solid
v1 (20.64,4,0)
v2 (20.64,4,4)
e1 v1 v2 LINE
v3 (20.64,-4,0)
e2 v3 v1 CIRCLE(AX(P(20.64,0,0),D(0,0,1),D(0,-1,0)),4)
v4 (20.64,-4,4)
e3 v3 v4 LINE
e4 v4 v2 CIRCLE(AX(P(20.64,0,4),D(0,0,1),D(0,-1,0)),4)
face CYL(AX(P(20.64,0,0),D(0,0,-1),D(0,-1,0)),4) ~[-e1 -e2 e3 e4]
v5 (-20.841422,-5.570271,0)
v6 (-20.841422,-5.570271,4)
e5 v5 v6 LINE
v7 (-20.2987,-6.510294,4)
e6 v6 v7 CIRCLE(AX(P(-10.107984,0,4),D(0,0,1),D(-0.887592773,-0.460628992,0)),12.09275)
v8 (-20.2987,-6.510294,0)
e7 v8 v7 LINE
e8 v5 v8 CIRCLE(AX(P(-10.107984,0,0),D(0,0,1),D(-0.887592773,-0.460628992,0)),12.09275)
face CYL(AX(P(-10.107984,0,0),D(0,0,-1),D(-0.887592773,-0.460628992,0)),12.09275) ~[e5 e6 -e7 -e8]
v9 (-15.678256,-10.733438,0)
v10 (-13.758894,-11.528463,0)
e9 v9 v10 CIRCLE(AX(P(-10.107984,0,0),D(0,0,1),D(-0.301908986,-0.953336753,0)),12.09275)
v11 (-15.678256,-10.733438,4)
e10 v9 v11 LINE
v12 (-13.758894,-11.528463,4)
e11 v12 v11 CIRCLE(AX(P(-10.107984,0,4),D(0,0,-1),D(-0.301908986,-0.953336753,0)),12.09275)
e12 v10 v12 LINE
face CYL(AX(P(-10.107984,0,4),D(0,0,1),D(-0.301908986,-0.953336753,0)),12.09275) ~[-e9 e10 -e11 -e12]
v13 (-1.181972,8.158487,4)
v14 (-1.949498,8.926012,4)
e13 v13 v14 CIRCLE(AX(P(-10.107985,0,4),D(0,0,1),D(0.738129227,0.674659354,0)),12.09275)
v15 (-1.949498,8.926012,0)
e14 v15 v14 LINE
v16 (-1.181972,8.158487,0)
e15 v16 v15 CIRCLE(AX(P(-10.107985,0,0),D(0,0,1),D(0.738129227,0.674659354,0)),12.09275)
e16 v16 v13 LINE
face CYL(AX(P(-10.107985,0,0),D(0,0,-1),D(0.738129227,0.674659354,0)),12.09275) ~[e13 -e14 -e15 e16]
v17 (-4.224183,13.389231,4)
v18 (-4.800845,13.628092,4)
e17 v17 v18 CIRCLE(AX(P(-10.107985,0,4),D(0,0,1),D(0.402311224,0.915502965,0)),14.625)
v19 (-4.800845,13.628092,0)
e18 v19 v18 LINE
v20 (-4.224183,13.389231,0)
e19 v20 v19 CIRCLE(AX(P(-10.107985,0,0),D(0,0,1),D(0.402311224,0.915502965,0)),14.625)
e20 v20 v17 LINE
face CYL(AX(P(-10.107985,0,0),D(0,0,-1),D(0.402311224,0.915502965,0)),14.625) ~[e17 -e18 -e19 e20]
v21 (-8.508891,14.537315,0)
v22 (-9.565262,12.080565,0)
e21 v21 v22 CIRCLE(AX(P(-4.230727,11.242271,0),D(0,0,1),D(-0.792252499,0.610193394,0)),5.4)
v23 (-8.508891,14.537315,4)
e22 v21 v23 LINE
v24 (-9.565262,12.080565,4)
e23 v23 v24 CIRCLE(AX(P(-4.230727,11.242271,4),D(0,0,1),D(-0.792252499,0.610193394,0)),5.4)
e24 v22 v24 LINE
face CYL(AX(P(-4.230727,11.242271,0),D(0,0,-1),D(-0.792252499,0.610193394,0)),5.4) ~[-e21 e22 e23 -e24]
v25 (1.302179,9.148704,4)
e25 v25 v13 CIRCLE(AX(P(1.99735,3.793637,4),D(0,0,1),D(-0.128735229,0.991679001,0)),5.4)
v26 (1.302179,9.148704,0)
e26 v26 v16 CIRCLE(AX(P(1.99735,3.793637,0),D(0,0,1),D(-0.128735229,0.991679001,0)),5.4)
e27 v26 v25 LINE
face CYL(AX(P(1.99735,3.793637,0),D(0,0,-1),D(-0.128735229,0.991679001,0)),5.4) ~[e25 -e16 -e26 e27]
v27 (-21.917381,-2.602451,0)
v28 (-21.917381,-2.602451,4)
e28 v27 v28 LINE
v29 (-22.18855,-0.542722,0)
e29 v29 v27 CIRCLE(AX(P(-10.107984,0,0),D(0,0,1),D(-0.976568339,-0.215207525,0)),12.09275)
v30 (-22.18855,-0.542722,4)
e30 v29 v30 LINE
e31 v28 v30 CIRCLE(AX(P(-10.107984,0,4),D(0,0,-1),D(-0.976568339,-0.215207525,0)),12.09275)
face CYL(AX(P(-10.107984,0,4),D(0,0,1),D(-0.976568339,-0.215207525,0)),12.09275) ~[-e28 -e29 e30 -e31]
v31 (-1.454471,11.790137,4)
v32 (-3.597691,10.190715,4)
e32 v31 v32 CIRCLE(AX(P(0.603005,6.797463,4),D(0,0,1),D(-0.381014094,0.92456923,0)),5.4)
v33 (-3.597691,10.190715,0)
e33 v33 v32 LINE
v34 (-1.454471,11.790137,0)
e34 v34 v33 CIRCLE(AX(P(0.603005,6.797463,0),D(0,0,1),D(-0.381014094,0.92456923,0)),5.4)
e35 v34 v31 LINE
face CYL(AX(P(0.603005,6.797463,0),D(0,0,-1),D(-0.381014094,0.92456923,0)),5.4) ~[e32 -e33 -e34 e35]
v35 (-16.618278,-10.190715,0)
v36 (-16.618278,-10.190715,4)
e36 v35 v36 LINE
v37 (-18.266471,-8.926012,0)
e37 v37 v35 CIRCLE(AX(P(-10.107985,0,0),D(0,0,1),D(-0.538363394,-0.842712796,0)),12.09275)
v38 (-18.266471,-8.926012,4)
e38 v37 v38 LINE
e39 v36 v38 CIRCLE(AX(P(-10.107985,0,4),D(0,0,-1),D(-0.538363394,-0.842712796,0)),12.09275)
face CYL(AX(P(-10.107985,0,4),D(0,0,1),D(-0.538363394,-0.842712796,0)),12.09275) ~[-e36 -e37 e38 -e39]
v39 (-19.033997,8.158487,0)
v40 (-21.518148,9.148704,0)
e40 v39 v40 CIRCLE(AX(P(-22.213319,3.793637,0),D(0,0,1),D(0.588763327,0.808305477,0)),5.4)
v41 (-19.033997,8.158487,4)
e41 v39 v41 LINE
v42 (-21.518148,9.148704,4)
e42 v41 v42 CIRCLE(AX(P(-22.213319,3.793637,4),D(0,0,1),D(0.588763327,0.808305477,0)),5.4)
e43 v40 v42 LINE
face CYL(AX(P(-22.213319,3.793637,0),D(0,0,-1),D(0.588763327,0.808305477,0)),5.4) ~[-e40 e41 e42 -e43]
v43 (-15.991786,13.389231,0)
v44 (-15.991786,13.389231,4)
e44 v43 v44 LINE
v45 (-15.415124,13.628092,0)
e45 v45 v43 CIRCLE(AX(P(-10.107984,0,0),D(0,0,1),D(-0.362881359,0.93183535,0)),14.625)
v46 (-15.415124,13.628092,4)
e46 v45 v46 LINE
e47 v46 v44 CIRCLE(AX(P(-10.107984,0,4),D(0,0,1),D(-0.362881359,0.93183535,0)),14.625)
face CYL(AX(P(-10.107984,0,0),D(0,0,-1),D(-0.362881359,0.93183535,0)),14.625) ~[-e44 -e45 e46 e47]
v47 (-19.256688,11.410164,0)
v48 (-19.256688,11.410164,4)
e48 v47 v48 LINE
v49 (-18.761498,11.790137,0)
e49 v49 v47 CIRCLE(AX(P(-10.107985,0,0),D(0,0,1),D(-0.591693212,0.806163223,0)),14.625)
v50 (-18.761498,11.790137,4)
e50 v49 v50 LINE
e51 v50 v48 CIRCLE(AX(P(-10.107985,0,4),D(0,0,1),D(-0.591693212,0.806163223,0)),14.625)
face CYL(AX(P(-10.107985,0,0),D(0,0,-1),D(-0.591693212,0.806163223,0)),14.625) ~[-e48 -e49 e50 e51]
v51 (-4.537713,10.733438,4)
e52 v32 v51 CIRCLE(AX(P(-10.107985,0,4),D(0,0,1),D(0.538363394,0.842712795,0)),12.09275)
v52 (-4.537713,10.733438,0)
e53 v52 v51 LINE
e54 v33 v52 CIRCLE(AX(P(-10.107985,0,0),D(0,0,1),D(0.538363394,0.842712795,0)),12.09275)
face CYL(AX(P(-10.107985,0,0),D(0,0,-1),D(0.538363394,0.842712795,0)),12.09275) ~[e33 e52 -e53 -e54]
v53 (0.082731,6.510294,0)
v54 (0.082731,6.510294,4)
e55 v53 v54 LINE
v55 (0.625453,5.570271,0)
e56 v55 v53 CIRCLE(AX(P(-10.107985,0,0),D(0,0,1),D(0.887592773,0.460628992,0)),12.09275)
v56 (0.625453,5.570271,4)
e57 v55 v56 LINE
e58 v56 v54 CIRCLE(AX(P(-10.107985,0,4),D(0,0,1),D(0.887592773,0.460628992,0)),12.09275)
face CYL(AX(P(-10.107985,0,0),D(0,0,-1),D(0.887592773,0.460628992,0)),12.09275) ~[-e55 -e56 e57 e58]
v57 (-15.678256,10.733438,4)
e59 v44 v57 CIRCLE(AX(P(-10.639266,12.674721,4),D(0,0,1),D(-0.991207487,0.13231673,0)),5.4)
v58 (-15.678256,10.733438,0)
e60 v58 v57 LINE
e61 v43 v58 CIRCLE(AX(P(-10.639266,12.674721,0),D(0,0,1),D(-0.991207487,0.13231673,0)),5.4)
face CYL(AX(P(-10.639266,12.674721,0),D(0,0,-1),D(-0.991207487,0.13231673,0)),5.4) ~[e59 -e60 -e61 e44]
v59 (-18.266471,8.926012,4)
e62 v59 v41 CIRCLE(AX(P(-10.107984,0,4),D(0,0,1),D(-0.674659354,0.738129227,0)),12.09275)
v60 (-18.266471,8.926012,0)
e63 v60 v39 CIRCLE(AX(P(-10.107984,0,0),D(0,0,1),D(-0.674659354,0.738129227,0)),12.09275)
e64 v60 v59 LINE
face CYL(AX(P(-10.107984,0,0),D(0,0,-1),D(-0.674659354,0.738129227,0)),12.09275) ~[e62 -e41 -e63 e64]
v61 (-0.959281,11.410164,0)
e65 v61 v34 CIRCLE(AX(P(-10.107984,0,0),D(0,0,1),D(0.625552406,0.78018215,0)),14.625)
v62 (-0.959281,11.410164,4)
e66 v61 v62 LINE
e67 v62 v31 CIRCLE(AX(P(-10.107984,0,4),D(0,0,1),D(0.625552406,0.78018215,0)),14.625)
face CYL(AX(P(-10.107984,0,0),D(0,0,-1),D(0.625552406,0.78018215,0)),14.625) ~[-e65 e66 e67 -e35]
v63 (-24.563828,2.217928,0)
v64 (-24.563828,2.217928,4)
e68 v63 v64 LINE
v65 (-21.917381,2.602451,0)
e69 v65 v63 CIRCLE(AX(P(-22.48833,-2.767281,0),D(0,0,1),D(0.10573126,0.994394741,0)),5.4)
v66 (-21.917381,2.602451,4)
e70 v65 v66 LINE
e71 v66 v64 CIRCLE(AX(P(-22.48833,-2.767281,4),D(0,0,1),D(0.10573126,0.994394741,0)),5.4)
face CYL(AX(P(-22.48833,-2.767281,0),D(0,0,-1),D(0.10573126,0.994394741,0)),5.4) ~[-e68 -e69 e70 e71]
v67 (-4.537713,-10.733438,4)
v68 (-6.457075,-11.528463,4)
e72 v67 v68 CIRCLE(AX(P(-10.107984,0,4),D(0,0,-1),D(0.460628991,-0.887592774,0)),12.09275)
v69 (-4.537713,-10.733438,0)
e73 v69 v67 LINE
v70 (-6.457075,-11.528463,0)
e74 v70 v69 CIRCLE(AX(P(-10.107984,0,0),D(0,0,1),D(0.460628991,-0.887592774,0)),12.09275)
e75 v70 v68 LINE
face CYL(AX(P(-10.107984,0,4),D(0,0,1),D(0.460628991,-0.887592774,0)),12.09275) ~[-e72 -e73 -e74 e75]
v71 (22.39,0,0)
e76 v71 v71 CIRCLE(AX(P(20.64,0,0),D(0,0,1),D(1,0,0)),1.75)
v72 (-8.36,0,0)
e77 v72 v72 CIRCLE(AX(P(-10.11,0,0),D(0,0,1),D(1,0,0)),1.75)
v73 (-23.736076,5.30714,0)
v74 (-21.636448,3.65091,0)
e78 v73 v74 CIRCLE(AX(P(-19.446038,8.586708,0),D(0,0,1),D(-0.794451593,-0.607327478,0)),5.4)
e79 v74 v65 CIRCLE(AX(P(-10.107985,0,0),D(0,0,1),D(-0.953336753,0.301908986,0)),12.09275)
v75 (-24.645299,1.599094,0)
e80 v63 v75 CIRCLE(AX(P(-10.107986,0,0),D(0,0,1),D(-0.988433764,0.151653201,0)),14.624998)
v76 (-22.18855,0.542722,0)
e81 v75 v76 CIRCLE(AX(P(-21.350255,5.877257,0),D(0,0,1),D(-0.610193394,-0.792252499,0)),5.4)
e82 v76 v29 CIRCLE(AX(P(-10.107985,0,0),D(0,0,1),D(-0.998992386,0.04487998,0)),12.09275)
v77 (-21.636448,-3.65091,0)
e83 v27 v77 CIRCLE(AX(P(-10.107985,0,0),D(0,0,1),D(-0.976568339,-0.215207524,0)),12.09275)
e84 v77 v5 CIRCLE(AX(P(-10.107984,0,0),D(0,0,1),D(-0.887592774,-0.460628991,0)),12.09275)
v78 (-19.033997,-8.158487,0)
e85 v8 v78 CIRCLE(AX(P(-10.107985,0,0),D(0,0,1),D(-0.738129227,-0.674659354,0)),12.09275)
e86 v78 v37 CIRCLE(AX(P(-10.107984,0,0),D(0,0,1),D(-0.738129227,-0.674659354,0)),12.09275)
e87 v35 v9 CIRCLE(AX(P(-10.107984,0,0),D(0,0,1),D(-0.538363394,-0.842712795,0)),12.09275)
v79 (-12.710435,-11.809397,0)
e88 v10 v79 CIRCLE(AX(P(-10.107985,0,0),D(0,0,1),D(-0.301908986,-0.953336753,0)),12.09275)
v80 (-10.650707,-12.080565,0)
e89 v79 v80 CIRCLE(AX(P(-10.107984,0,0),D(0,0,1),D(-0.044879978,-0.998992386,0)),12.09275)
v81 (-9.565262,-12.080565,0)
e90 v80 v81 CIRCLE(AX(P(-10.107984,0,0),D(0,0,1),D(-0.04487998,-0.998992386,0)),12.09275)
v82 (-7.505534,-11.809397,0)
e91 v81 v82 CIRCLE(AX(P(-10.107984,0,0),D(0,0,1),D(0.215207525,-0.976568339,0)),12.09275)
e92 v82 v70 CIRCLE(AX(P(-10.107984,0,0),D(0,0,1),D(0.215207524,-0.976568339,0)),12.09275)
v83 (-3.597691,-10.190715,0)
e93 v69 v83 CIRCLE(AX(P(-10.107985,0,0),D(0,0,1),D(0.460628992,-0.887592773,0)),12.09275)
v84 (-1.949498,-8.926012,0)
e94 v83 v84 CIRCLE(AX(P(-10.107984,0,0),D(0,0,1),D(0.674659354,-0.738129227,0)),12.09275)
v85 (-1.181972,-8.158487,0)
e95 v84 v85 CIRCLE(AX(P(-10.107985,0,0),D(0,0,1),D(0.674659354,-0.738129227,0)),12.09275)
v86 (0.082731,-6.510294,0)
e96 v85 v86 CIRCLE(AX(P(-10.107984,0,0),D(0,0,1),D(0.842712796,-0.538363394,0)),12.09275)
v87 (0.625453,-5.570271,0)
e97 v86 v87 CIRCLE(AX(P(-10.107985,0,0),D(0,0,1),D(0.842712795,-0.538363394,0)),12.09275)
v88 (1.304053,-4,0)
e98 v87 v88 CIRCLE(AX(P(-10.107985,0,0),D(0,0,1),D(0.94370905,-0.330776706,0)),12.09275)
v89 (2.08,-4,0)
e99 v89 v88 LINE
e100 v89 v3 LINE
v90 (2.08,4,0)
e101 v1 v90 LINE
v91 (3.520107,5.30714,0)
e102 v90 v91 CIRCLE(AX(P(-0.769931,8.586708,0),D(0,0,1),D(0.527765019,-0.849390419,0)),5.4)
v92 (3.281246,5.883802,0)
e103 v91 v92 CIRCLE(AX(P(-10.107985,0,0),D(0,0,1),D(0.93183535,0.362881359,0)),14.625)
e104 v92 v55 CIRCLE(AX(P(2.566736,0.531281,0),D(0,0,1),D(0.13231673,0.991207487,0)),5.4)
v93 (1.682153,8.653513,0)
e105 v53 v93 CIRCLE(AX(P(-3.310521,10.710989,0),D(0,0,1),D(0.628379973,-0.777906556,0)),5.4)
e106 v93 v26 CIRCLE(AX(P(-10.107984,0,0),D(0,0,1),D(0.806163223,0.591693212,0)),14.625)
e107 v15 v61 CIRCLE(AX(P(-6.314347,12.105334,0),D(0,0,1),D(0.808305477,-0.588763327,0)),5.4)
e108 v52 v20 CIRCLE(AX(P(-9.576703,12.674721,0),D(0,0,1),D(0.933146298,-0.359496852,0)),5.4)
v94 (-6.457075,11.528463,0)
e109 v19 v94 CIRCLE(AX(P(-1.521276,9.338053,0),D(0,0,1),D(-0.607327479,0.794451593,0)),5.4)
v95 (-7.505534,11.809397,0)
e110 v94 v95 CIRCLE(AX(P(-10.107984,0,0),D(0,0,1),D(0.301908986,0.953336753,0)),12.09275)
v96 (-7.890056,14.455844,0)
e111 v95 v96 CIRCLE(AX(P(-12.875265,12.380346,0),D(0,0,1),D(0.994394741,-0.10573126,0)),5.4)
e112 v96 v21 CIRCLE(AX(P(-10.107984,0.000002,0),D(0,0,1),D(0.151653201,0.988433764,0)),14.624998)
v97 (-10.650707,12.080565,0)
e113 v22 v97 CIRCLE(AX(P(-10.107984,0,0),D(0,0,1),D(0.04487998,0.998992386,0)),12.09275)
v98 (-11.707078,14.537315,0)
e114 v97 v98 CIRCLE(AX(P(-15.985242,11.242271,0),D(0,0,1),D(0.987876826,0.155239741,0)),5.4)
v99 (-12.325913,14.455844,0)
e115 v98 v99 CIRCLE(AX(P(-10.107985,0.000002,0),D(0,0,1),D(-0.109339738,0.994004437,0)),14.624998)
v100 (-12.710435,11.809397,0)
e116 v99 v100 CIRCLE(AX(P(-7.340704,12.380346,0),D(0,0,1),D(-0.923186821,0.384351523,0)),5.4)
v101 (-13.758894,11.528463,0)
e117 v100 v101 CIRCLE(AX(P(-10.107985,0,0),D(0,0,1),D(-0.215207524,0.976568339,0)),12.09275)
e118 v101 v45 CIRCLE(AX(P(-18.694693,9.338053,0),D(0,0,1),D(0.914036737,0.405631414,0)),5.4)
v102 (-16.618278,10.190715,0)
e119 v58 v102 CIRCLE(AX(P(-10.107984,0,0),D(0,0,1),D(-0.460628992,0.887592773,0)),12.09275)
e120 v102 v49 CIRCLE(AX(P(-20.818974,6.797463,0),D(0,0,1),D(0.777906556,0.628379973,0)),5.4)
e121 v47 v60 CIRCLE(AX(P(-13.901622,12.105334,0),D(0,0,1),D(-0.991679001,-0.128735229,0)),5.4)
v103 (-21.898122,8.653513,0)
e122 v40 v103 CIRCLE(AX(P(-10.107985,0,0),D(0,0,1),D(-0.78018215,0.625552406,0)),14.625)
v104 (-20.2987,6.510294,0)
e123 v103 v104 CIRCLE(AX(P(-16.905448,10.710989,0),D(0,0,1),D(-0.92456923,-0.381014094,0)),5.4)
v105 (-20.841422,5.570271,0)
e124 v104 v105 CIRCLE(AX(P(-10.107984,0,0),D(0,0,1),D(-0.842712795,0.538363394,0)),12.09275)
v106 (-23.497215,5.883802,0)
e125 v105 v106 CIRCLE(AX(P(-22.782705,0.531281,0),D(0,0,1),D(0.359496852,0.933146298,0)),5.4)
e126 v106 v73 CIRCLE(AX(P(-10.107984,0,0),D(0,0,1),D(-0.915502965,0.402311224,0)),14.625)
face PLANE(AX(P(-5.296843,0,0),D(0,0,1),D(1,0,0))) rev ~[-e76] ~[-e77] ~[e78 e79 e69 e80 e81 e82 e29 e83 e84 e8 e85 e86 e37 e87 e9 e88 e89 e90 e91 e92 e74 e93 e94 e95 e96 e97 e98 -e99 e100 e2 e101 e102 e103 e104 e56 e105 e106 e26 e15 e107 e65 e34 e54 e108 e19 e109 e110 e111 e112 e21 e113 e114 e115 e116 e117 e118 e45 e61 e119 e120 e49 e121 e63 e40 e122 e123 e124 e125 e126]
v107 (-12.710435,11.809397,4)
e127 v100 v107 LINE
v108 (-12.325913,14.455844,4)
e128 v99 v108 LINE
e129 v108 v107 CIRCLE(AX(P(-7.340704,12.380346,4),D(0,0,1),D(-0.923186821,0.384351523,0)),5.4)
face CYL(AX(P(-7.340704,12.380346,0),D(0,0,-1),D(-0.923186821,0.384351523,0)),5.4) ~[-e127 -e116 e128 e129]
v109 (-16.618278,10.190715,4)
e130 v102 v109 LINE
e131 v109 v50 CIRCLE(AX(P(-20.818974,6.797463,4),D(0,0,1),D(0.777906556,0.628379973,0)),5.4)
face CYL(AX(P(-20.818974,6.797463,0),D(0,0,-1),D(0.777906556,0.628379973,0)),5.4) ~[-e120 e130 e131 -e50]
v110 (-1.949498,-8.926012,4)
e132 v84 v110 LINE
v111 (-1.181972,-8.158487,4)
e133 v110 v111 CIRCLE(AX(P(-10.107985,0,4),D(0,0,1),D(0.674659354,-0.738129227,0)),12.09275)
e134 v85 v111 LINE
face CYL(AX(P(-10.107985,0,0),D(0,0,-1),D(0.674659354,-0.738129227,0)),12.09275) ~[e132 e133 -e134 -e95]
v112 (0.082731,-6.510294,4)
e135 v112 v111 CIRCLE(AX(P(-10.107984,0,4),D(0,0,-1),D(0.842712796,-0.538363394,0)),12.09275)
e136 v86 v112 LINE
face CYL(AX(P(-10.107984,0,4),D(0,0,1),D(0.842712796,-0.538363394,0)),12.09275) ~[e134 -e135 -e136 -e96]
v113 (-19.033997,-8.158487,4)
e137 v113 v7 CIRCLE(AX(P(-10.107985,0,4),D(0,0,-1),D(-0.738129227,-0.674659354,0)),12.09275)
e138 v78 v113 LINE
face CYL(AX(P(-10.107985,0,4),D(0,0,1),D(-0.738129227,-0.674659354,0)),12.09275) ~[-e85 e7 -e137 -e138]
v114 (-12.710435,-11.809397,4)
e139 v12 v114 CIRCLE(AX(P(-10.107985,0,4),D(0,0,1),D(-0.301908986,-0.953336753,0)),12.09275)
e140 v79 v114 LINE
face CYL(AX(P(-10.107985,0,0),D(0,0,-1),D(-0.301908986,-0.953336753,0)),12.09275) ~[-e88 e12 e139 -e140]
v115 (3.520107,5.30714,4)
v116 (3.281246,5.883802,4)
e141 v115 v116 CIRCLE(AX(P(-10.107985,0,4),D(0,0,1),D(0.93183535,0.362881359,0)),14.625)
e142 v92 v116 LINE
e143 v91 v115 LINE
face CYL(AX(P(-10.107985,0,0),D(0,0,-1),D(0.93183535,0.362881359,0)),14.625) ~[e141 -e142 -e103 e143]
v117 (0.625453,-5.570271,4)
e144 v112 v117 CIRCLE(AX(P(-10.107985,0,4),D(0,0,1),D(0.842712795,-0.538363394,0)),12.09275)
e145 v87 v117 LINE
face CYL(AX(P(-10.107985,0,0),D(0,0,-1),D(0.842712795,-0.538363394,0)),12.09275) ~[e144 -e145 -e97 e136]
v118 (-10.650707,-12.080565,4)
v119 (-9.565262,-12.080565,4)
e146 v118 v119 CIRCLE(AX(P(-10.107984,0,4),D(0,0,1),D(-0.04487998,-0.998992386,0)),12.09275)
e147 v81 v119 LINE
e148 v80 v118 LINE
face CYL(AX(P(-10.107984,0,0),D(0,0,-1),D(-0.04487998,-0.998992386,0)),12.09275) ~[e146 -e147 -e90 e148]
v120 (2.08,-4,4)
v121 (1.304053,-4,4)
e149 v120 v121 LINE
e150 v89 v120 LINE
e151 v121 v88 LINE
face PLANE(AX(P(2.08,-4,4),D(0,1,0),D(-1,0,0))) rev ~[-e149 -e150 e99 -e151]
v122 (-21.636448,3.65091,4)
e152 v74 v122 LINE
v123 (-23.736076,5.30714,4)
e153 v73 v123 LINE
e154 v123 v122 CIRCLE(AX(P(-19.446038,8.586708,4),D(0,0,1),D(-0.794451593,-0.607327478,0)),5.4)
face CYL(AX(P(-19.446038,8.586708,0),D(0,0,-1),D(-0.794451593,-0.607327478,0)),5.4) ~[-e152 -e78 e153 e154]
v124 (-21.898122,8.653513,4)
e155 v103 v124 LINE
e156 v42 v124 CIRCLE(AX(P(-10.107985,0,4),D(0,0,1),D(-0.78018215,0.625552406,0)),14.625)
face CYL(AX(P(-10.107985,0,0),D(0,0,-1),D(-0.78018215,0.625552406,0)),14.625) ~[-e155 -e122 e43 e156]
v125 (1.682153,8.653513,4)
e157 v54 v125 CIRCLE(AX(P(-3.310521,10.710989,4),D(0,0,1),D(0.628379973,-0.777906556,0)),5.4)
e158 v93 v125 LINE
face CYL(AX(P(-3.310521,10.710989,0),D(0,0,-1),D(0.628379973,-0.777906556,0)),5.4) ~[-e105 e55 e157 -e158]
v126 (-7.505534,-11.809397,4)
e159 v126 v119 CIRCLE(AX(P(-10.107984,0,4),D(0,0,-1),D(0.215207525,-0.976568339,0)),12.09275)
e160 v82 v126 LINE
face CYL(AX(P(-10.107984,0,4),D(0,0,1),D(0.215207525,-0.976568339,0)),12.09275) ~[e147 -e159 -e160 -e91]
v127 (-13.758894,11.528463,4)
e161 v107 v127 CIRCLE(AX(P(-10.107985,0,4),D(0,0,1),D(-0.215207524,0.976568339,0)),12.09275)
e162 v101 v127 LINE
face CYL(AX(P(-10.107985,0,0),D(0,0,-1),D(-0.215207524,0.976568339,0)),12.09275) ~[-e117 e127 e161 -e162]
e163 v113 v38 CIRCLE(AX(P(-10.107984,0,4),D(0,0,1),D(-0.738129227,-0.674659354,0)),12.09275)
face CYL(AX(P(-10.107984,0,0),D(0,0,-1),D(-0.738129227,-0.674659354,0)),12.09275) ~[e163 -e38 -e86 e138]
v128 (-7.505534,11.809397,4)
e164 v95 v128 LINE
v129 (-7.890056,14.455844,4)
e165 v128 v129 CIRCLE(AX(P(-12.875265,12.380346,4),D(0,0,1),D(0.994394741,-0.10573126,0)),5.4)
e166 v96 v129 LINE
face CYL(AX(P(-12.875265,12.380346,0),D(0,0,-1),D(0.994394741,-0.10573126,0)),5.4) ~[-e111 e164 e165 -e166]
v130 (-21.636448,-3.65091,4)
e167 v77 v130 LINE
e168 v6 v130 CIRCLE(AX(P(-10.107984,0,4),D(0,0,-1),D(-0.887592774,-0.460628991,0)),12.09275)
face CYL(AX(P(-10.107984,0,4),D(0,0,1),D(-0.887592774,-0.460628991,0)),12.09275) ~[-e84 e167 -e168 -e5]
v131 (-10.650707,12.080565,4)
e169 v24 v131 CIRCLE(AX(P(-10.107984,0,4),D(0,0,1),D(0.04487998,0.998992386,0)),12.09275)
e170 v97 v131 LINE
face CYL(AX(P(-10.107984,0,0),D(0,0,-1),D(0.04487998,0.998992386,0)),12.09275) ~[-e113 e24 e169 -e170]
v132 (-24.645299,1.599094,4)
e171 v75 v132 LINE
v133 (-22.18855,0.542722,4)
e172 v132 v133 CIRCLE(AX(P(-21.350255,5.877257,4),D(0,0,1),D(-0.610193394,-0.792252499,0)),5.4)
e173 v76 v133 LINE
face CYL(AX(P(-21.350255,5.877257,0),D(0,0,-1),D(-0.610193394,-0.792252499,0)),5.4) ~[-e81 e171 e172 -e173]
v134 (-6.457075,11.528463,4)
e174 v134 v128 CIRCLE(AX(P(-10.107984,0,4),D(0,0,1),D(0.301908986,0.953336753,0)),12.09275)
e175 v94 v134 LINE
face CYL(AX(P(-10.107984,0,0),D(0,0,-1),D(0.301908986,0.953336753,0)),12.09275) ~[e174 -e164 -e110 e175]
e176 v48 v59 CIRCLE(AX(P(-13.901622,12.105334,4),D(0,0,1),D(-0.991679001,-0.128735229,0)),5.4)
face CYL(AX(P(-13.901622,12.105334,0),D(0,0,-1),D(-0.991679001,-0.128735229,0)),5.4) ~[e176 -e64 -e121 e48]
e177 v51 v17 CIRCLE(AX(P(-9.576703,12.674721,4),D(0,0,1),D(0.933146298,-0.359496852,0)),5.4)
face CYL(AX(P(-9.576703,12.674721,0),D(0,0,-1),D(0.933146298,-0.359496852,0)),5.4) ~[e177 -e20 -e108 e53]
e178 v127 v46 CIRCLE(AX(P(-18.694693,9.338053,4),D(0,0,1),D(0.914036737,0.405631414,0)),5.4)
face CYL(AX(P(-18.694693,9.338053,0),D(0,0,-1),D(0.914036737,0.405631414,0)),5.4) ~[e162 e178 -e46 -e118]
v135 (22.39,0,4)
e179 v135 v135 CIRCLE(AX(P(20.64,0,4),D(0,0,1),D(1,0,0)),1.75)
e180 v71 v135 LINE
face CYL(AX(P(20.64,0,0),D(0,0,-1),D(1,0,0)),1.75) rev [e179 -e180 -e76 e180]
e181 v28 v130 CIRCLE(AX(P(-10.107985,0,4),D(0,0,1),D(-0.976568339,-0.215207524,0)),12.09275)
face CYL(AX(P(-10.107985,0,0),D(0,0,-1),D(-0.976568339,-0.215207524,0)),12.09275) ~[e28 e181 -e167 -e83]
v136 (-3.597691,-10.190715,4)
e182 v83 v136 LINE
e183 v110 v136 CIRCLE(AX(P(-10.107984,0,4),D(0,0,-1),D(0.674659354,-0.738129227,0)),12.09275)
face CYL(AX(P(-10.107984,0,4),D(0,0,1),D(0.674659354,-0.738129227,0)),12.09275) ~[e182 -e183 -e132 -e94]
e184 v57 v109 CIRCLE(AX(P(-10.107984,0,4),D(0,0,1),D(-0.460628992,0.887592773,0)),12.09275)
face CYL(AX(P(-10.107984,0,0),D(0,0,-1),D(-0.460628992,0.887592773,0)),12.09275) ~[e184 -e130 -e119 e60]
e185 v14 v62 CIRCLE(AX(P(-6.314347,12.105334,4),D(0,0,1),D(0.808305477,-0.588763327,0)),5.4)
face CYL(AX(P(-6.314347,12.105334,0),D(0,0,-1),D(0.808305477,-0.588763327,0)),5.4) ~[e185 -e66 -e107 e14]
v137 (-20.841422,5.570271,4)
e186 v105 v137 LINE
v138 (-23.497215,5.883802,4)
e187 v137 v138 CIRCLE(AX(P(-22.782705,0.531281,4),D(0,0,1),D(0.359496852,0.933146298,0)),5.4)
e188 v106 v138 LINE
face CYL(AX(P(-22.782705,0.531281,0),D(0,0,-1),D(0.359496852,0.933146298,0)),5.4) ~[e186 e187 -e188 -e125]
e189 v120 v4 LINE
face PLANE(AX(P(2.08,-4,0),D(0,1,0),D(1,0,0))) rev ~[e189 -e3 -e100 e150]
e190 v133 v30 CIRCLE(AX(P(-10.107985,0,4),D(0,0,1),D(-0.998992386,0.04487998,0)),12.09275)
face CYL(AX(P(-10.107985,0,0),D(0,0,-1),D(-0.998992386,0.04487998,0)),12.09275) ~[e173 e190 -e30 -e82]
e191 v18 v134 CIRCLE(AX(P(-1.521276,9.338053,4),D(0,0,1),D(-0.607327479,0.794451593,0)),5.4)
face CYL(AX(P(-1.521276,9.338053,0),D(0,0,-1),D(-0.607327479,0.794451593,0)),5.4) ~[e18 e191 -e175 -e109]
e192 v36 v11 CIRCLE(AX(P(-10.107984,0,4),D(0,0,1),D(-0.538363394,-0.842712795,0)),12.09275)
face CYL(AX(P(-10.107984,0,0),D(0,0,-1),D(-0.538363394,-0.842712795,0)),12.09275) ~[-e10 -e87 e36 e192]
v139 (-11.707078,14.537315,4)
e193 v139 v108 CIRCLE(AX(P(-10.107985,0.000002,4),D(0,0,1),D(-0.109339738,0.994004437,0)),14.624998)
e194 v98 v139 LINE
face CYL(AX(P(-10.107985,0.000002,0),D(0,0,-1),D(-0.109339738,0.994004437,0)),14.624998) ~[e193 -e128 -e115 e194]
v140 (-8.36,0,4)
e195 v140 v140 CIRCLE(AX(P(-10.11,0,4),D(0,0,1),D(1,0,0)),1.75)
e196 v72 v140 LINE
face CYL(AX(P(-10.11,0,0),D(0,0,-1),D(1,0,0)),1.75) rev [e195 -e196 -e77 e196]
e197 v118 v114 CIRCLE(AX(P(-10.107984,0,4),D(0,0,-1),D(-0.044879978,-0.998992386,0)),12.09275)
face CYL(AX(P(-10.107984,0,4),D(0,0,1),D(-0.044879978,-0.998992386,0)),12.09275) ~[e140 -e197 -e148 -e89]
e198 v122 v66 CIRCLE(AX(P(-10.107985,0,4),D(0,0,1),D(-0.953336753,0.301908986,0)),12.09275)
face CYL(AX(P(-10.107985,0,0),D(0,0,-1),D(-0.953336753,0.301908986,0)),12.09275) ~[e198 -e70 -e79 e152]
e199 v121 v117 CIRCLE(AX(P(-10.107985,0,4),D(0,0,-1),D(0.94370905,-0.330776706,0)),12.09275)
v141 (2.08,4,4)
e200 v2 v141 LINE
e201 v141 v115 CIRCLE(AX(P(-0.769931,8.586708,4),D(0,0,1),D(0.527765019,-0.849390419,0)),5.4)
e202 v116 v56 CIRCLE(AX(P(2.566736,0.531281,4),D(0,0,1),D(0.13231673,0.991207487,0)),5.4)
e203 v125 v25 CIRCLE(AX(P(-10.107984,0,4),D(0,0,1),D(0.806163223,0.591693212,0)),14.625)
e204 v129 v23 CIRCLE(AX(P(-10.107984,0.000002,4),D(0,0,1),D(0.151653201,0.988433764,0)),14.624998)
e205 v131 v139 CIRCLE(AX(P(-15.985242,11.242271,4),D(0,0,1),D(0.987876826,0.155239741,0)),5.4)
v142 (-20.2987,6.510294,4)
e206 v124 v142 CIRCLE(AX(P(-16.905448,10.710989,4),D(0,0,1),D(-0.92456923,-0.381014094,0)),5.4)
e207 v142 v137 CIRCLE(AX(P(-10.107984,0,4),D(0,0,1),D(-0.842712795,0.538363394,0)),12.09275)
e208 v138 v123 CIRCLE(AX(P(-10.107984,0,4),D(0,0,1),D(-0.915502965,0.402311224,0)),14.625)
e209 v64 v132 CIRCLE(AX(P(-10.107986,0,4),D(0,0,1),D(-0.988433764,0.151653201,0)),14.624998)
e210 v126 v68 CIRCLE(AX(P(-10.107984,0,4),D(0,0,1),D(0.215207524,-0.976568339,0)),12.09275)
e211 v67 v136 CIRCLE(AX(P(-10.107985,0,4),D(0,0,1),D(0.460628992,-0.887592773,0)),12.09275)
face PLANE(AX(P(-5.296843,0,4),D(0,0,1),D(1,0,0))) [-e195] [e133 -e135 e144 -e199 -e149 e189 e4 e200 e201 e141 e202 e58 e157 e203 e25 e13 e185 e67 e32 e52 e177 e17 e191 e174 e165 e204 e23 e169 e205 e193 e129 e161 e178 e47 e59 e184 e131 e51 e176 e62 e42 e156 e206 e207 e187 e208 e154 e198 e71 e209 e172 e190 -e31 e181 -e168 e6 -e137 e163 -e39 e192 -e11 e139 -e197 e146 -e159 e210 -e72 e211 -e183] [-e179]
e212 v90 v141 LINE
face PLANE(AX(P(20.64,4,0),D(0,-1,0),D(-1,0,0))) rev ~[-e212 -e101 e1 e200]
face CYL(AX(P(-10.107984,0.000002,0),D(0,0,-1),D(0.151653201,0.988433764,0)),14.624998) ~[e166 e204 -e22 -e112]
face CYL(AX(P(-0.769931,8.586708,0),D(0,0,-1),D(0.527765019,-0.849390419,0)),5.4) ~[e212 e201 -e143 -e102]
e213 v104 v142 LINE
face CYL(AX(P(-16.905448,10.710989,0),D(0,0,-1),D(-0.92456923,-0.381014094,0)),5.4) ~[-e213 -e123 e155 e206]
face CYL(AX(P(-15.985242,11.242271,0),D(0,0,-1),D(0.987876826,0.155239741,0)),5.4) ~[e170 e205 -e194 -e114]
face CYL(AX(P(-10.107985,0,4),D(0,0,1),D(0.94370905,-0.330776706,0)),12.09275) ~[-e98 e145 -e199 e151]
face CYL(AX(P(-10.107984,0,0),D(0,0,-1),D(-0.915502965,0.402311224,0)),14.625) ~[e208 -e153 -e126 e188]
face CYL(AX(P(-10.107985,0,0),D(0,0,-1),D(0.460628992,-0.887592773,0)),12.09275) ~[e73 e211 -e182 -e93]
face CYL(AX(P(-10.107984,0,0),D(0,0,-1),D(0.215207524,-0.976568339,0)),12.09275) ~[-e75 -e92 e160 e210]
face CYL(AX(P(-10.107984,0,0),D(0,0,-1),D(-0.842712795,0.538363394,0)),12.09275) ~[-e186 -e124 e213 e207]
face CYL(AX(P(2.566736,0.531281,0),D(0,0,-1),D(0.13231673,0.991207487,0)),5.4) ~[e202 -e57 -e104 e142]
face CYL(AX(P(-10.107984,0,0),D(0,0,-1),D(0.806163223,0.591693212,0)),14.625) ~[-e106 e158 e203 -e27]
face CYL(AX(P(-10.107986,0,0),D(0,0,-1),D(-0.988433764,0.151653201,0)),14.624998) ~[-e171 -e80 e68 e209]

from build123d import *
from build123d.topology import SkipClean

# Parameters (mm, degrees)
SKETCH1_R           = 1.75
BOSS_EXTRUDE1_DEPTH = 4
CUT_EXTRUDE1_DEPTH  = 29.891595766


with BuildPart() as part:
    # Sketch1 → Boss-Extrude1 (new body)
    with BuildSketch(Plane.XY):
        with BuildLine():
            Line((20.64, 4), (2.08, 4))
            ThreePointArc((2.08, 4), (2.859386397, 4.588201733), (3.5201075, 5.30713988))
            ThreePointArc((3.5201075, 5.30713988), (3.403753673, 5.596745198), (3.281246369, 5.883801663))
            ThreePointArc((3.281246369, 5.883801663), (1.933634043, 5.894040025), (0.625453025, 5.57027124))
            ThreePointArc((0.625453025, 5.57027124), (0.364644212, 6.046375), (0.082730667, 6.510293938))
            ThreePointArc((0.082730667, 6.510293938), (1.017213169, 7.48132754), (1.68215265, 8.65351323))
            ThreePointArc((1.68215265, 8.65351323), (1.494808112, 8.903135899), (1.302179463, 9.148703928))
            ThreePointArc((1.302179463, 9.148703928), (-0.002163969, 8.809805691), (-1.181972273, 8.158486898))
            ThreePointArc((-1.181972273, 8.158486898), (-1.557118962, 8.550865528), (-1.949497592, 8.926012217))
            ThreePointArc((-1.949497592, 8.926012217), (-1.298178799, 10.105820521), (-0.959280562, 11.410163953))
            ThreePointArc((-0.959280562, 11.410163953), (-1.204848591, 11.602792602), (-1.45447126, 11.79013714))
            ThreePointArc((-1.45447126, 11.79013714), (-2.62665695, 11.125197659), (-3.597690552, 10.190715157))
            ThreePointArc((-3.597690552, 10.190715157), (-4.06160949, 10.472628702), (-4.53771325, 10.733437515))
            ThreePointArc((-4.53771325, 10.733437515), (-4.213944465, 12.041618533), (-4.224182827, 13.389230859))
            ThreePointArc((-4.224182827, 13.389230859), (-4.511239292, 13.511738163), (-4.80084461, 13.62809199))
            ThreePointArc((-4.80084461, 13.62809199), (-5.760990039, 12.682425791), (-6.457074605, 11.528463019))
            ThreePointArc((-6.457074605, 11.528463019), (-6.978150482, 11.680699536), (-7.505533688, 11.809396783))
            ThreePointArc((-7.505533688, 11.809396783), (-7.531379219, 13.156800143), (-7.890056453, 14.455843809))
            ThreePointArc((-7.890056453, 14.455843809), (-8.199038929, 14.499881098), (-8.508890771, 14.537314892))
            ThreePointArc((-8.508890771, 14.537314892), (-9.191563616, 13.375367565), (-9.565262132, 12.080565177))
            ThreePointArc((-9.565262132, 12.080565177), (-10.10798449, 12.09275), (-10.650706848, 12.080565177))
            ThreePointArc((-10.650706848, 12.080565177), (-11.024405364, 13.375367565), (-11.707078209, 14.537314892))
            ThreePointArc((-11.707078209, 14.537314892), (-12.016930051, 14.499881098), (-12.325912527, 14.455843809))
            ThreePointArc((-12.325912527, 14.455843809), (-12.684589761, 13.156800143), (-12.710435292, 11.809396783))
            ThreePointArc((-12.710435292, 11.809396783), (-13.237818498, 11.680699536), (-13.758894375, 11.528463019))
            ThreePointArc((-13.758894375, 11.528463019), (-14.454978941, 12.682425791), (-15.41512437, 13.62809199))
            ThreePointArc((-15.41512437, 13.62809199), (-15.704729688, 13.511738163), (-15.991786153, 13.389230859))
            ThreePointArc((-15.991786153, 13.389230859), (-16.002024515, 12.041618533), (-15.67825573, 10.733437515))
            ThreePointArc((-15.67825573, 10.733437515), (-16.15435949, 10.472628702), (-16.618278428, 10.190715157))
            ThreePointArc((-16.618278428, 10.190715157), (-17.58931203, 11.125197659), (-18.76149772, 11.79013714))
            ThreePointArc((-18.76149772, 11.79013714), (-19.011120389, 11.602792602), (-19.256688418, 11.410163953))
            ThreePointArc((-19.256688418, 11.410163953), (-18.917790181, 10.105820521), (-18.266471388, 8.926012217))
            ThreePointArc((-18.266471388, 8.926012217), (-18.658850018, 8.550865528), (-19.033996707, 8.158486898))
            ThreePointArc((-19.033996707, 8.158486898), (-20.213805011, 8.809805691), (-21.518148443, 9.148703928))
            ThreePointArc((-21.518148443, 9.148703928), (-21.710777092, 8.903135899), (-21.89812163, 8.65351323))
            ThreePointArc((-21.89812163, 8.65351323), (-21.233182149, 7.48132754), (-20.298699647, 6.510293938))
            ThreePointArc((-20.298699647, 6.510293938), (-20.580613192, 6.046375), (-20.841422005, 5.57027124))
            ThreePointArc((-20.841422005, 5.57027124), (-22.149603023, 5.894040025), (-23.497215349, 5.883801663))
            ThreePointArc((-23.497215349, 5.883801663), (-23.619722653, 5.596745198), (-23.73607648, 5.30713988))
            ThreePointArc((-23.73607648, 5.30713988), (-22.790410282, 4.346994451), (-21.636447509, 3.650909885))
            ThreePointArc((-21.636447509, 3.650909885), (-21.788684026, 3.129834008), (-21.917381273, 2.602450802))
            ThreePointArc((-21.917381273, 2.602450802), (-23.264784633, 2.576605271), (-24.563828299, 2.217928037))
            ThreePointArc((-24.563828299, 2.217928037), (-24.607865588, 1.908945561), (-24.645299382, 1.599093719))
            ThreePointArc((-24.645299382, 1.599093719), (-23.483352055, 0.916420874), (-22.188549667, 0.542722358))
            ThreePointArc((-22.188549667, 0.542722358), (-22.20073449, 0), (-22.188549667, -0.542722358))
            ThreePointArc((-22.188549667, -0.542722358), (-23.483352055, -0.916420874), (-24.645299382, -1.599093719))
            ThreePointArc((-24.645299382, -1.599093719), (-24.607865588, -1.908945561), (-24.563828299, -2.217928037))
            ThreePointArc((-24.563828299, -2.217928037), (-23.264784633, -2.576605271), (-21.917381273, -2.602450802))
            ThreePointArc((-21.917381273, -2.602450802), (-21.788684026, -3.129834008), (-21.636447509, -3.650909885))
            ThreePointArc((-21.636447509, -3.650909885), (-22.790410282, -4.346994451), (-23.73607648, -5.30713988))
            ThreePointArc((-23.73607648, -5.30713988), (-23.619722653, -5.596745198), (-23.497215349, -5.883801663))
            ThreePointArc((-23.497215349, -5.883801663), (-22.149603023, -5.894040025), (-20.841422005, -5.57027124))
            ThreePointArc((-20.841422005, -5.57027124), (-20.580613192, -6.046375), (-20.298699647, -6.510293938))
            ThreePointArc((-20.298699647, -6.510293938), (-21.233182149, -7.48132754), (-21.89812163, -8.65351323))
            ThreePointArc((-21.89812163, -8.65351323), (-21.710777092, -8.903135899), (-21.518148443, -9.148703928))
            ThreePointArc((-21.518148443, -9.148703928), (-20.213805011, -8.809805691), (-19.033996707, -8.158486898))
            ThreePointArc((-19.033996707, -8.158486898), (-18.658850018, -8.550865528), (-18.266471388, -8.926012217))
            ThreePointArc((-18.266471388, -8.926012217), (-18.917790181, -10.105820521), (-19.256688418, -11.410163953))
            ThreePointArc((-19.256688418, -11.410163953), (-19.011120389, -11.602792602), (-18.76149772, -11.79013714))
            ThreePointArc((-18.76149772, -11.79013714), (-17.58931203, -11.125197659), (-16.618278428, -10.190715157))
            ThreePointArc((-16.618278428, -10.190715157), (-16.15435949, -10.472628702), (-15.67825573, -10.733437515))
            ThreePointArc((-15.67825573, -10.733437515), (-16.002024515, -12.041618533), (-15.991786153, -13.389230859))
            ThreePointArc((-15.991786153, -13.389230859), (-15.704729688, -13.511738163), (-15.41512437, -13.62809199))
            ThreePointArc((-15.41512437, -13.62809199), (-14.454978941, -12.682425791), (-13.758894375, -11.528463019))
            ThreePointArc((-13.758894375, -11.528463019), (-13.237818498, -11.680699536), (-12.710435292, -11.809396783))
            ThreePointArc((-12.710435292, -11.809396783), (-12.684589761, -13.156800143), (-12.325912527, -14.455843809))
            ThreePointArc((-12.325912527, -14.455843809), (-12.016930051, -14.499881098), (-11.707078209, -14.537314892))
            ThreePointArc((-11.707078209, -14.537314892), (-11.024405364, -13.375367565), (-10.650706848, -12.080565177))
            ThreePointArc((-10.650706848, -12.080565177), (-10.10798449, -12.09275), (-9.565262132, -12.080565177))
            ThreePointArc((-9.565262132, -12.080565177), (-9.191563616, -13.375367565), (-8.508890771, -14.537314892))
            ThreePointArc((-8.508890771, -14.537314892), (-8.199038929, -14.499881098), (-7.890056453, -14.455843809))
            ThreePointArc((-7.890056453, -14.455843809), (-7.531379219, -13.156800143), (-7.505533688, -11.809396783))
            ThreePointArc((-7.505533688, -11.809396783), (-6.978150482, -11.680699536), (-6.457074605, -11.528463019))
            ThreePointArc((-6.457074605, -11.528463019), (-5.760990039, -12.682425791), (-4.80084461, -13.62809199))
            ThreePointArc((-4.80084461, -13.62809199), (-4.511239292, -13.511738163), (-4.224182827, -13.389230859))
            ThreePointArc((-4.224182827, -13.389230859), (-4.213944465, -12.041618533), (-4.53771325, -10.733437515))
            ThreePointArc((-4.53771325, -10.733437515), (-4.06160949, -10.472628702), (-3.597690552, -10.190715157))
            ThreePointArc((-3.597690552, -10.190715157), (-2.62665695, -11.125197659), (-1.45447126, -11.79013714))
            ThreePointArc((-1.45447126, -11.79013714), (-1.204848591, -11.602792602), (-0.959280562, -11.410163953))
            ThreePointArc((-0.959280562, -11.410163953), (-1.298178799, -10.105820521), (-1.949497592, -8.926012217))
            ThreePointArc((-1.949497592, -8.926012217), (-1.557118962, -8.550865528), (-1.181972273, -8.158486898))
            ThreePointArc((-1.181972273, -8.158486898), (-0.002163969, -8.809805691), (1.302179463, -9.148703928))
            ThreePointArc((1.302179463, -9.148703928), (1.494808112, -8.903135899), (1.68215265, -8.65351323))
            ThreePointArc((1.68215265, -8.65351323), (1.017213169, -7.48132754), (0.082730667, -6.510293938))
            ThreePointArc((0.082730667, -6.510293938), (0.364644212, -6.046375), (0.625453025, -5.57027124))
            ThreePointArc((0.625453025, -5.57027124), (1.933634043, -5.894040025), (3.281246369, -5.883801663))
            ThreePointArc((3.281246369, -5.883801663), (3.403753673, -5.596745198), (3.5201075, -5.30713988))
            ThreePointArc((3.5201075, -5.30713988), (2.859386397, -4.588201733), (2.08, -4))
            Line((2.08, -4), (20.64, -4))
            ThreePointArc((20.64, -4), (24.64, 0), (20.64, 4))
        make_face()
        with Locations((-10.11, 0)):
            Circle(SKETCH1_R, mode=Mode.SUBTRACT)
        with Locations((20.64, 0)):
            Circle(SKETCH1_R, mode=Mode.SUBTRACT)
    extrude(amount=BOSS_EXTRUDE1_DEPTH)

    # Sketch2 → Cut-Extrude1 (cut, through all)
    with SkipClean():  # the faces are left unmerged after this step: merging them gives an invalid solid
        with BuildSketch(Plane.XY.offset(4)):
            with BuildLine():
                ThreePointArc((3.5201075, -5.30713988), (2.859386397, -4.588201733), (2.08, -4))
                Line((2.08, -4), (1.304053127, -4))
                ThreePointArc((1.304053127, -4), (0.992554017, -4.797149927), (0.625453025, -5.57027124))
                ThreePointArc((0.625453025, -5.57027124), (1.933634043, -5.894040025), (3.281246369, -5.883801663))
                ThreePointArc((3.281246369, -5.883801663), (3.403753673, -5.596745198), (3.5201075, -5.30713988))
            make_face()
            with BuildLine():
                ThreePointArc((1.68215265, -8.65351323), (1.017213169, -7.48132754), (0.082730667, -6.510293938))
                ThreePointArc((0.082730667, -6.510293938), (-0.514160884, -7.361599771), (-1.181972273, -8.158486898))
                ThreePointArc((-1.181972273, -8.158486898), (-0.002163969, -8.809805691), (1.302179463, -9.148703928))
                ThreePointArc((1.302179463, -9.148703928), (1.494808112, -8.903135899), (1.68215265, -8.65351323))
            make_face()
            with BuildLine():
                ThreePointArc((-0.959280562, -11.410163953), (-1.298178799, -10.105820521), (-1.949497592, -8.926012217))
                ThreePointArc((-1.949497592, -8.926012217), (-2.746384719, -9.593823606), (-3.597690552, -10.190715157))
                ThreePointArc((-3.597690552, -10.190715157), (-2.62665695, -11.125197659), (-1.45447126, -11.79013714))
                ThreePointArc((-1.45447126, -11.79013714), (-1.204848591, -11.602792602), (-0.959280562, -11.410163953))
            make_face()
            with BuildLine():
                ThreePointArc((-4.224182827, -13.389230859), (-4.213944465, -12.041618533), (-4.53771325, -10.733437515))
                ThreePointArc((-4.53771325, -10.733437515), (-5.480289413, -11.172244217), (-6.457074605, -11.528463019))
                ThreePointArc((-6.457074605, -11.528463019), (-5.760990039, -12.682425791), (-4.80084461, -13.62809199))
                ThreePointArc((-4.80084461, -13.62809199), (-4.511239292, -13.511738163), (-4.224182827, -13.389230859))
            make_face()
            with BuildLine():
                ThreePointArc((-7.890056453, -14.455843809), (-7.531379219, -13.156800143), (-7.505533688, -11.809396783))
                ThreePointArc((-7.505533688, -11.809396783), (-8.529563879, -11.989294847), (-9.565262132, -12.080565177))
                ThreePointArc((-9.565262132, -12.080565177), (-9.191563616, -13.375367565), (-8.508890771, -14.537314892))
                ThreePointArc((-8.508890771, -14.537314892), (-8.199038929, -14.499881098), (-7.890056453, -14.455843809))
            make_face()
            with BuildLine():
                ThreePointArc((-11.707078209, -14.537314892), (-11.024405364, -13.375367565), (-10.650706848, -12.080565177))
                ThreePointArc((-10.650706848, -12.080565177), (-11.686405101, -11.989294847), (-12.710435292, -11.809396783))
                ThreePointArc((-12.710435292, -11.809396783), (-12.684589761, -13.156800143), (-12.325912527, -14.455843809))
                ThreePointArc((-12.325912527, -14.455843809), (-12.016930051, -14.499881098), (-11.707078209, -14.537314892))
            make_face()
            with BuildLine():
                ThreePointArc((-15.41512437, -13.62809199), (-14.454978941, -12.682425791), (-13.758894375, -11.528463019))
                ThreePointArc((-13.758894375, -11.528463019), (-14.735679567, -11.172244217), (-15.67825573, -10.733437515))
                ThreePointArc((-15.67825573, -10.733437515), (-16.002024515, -12.041618533), (-15.991786153, -13.389230859))
                ThreePointArc((-15.991786153, -13.389230859), (-15.704729688, -13.511738163), (-15.41512437, -13.62809199))
            make_face()
            with BuildLine():
                ThreePointArc((-18.76149772, -11.79013714), (-17.58931203, -11.125197659), (-16.618278428, -10.190715157))
                ThreePointArc((-16.618278428, -10.190715157), (-17.469584261, -9.593823606), (-18.266471388, -8.926012217))
                ThreePointArc((-18.266471388, -8.926012217), (-18.917790181, -10.105820521), (-19.256688418, -11.410163953))
                ThreePointArc((-19.256688418, -11.410163953), (-19.011120389, -11.602792602), (-18.76149772, -11.79013714))
            make_face()
            with BuildLine():
                ThreePointArc((-21.518148443, -9.148703928), (-20.213805011, -8.809805691), (-19.033996707, -8.158486898))
                ThreePointArc((-19.033996707, -8.158486898), (-19.701808096, -7.361599771), (-20.298699647, -6.510293938))
                ThreePointArc((-20.298699647, -6.510293938), (-21.233182149, -7.48132754), (-21.89812163, -8.65351323))
                ThreePointArc((-21.89812163, -8.65351323), (-21.710777092, -8.903135899), (-21.518148443, -9.148703928))
            make_face()
            with BuildLine():
                ThreePointArc((-23.497215349, -5.883801663), (-22.149603023, -5.894040025), (-20.841422005, -5.57027124))
                ThreePointArc((-20.841422005, -5.57027124), (-21.280228707, -4.627695077), (-21.636447509, -3.650909885))
                ThreePointArc((-21.636447509, -3.650909885), (-22.790410282, -4.346994451), (-23.73607648, -5.30713988))
                ThreePointArc((-23.73607648, -5.30713988), (-23.619722653, -5.596745198), (-23.497215349, -5.883801663))
            make_face()
            with BuildLine():
                ThreePointArc((-24.563828299, -2.217928037), (-23.264784633, -2.576605271), (-21.917381273, -2.602450802))
                ThreePointArc((-21.917381273, -2.602450802), (-22.097279337, -1.578420611), (-22.188549667, -0.542722358))
                ThreePointArc((-22.188549667, -0.542722358), (-23.483352055, -0.916420874), (-24.645299382, -1.599093719))
                ThreePointArc((-24.645299382, -1.599093719), (-24.607865588, -1.908945561), (-24.563828299, -2.217928037))
            make_face()
        extrude(amount=-CUT_EXTRUDE1_DEPTH, mode=Mode.SUBTRACT)


solid = part.part
